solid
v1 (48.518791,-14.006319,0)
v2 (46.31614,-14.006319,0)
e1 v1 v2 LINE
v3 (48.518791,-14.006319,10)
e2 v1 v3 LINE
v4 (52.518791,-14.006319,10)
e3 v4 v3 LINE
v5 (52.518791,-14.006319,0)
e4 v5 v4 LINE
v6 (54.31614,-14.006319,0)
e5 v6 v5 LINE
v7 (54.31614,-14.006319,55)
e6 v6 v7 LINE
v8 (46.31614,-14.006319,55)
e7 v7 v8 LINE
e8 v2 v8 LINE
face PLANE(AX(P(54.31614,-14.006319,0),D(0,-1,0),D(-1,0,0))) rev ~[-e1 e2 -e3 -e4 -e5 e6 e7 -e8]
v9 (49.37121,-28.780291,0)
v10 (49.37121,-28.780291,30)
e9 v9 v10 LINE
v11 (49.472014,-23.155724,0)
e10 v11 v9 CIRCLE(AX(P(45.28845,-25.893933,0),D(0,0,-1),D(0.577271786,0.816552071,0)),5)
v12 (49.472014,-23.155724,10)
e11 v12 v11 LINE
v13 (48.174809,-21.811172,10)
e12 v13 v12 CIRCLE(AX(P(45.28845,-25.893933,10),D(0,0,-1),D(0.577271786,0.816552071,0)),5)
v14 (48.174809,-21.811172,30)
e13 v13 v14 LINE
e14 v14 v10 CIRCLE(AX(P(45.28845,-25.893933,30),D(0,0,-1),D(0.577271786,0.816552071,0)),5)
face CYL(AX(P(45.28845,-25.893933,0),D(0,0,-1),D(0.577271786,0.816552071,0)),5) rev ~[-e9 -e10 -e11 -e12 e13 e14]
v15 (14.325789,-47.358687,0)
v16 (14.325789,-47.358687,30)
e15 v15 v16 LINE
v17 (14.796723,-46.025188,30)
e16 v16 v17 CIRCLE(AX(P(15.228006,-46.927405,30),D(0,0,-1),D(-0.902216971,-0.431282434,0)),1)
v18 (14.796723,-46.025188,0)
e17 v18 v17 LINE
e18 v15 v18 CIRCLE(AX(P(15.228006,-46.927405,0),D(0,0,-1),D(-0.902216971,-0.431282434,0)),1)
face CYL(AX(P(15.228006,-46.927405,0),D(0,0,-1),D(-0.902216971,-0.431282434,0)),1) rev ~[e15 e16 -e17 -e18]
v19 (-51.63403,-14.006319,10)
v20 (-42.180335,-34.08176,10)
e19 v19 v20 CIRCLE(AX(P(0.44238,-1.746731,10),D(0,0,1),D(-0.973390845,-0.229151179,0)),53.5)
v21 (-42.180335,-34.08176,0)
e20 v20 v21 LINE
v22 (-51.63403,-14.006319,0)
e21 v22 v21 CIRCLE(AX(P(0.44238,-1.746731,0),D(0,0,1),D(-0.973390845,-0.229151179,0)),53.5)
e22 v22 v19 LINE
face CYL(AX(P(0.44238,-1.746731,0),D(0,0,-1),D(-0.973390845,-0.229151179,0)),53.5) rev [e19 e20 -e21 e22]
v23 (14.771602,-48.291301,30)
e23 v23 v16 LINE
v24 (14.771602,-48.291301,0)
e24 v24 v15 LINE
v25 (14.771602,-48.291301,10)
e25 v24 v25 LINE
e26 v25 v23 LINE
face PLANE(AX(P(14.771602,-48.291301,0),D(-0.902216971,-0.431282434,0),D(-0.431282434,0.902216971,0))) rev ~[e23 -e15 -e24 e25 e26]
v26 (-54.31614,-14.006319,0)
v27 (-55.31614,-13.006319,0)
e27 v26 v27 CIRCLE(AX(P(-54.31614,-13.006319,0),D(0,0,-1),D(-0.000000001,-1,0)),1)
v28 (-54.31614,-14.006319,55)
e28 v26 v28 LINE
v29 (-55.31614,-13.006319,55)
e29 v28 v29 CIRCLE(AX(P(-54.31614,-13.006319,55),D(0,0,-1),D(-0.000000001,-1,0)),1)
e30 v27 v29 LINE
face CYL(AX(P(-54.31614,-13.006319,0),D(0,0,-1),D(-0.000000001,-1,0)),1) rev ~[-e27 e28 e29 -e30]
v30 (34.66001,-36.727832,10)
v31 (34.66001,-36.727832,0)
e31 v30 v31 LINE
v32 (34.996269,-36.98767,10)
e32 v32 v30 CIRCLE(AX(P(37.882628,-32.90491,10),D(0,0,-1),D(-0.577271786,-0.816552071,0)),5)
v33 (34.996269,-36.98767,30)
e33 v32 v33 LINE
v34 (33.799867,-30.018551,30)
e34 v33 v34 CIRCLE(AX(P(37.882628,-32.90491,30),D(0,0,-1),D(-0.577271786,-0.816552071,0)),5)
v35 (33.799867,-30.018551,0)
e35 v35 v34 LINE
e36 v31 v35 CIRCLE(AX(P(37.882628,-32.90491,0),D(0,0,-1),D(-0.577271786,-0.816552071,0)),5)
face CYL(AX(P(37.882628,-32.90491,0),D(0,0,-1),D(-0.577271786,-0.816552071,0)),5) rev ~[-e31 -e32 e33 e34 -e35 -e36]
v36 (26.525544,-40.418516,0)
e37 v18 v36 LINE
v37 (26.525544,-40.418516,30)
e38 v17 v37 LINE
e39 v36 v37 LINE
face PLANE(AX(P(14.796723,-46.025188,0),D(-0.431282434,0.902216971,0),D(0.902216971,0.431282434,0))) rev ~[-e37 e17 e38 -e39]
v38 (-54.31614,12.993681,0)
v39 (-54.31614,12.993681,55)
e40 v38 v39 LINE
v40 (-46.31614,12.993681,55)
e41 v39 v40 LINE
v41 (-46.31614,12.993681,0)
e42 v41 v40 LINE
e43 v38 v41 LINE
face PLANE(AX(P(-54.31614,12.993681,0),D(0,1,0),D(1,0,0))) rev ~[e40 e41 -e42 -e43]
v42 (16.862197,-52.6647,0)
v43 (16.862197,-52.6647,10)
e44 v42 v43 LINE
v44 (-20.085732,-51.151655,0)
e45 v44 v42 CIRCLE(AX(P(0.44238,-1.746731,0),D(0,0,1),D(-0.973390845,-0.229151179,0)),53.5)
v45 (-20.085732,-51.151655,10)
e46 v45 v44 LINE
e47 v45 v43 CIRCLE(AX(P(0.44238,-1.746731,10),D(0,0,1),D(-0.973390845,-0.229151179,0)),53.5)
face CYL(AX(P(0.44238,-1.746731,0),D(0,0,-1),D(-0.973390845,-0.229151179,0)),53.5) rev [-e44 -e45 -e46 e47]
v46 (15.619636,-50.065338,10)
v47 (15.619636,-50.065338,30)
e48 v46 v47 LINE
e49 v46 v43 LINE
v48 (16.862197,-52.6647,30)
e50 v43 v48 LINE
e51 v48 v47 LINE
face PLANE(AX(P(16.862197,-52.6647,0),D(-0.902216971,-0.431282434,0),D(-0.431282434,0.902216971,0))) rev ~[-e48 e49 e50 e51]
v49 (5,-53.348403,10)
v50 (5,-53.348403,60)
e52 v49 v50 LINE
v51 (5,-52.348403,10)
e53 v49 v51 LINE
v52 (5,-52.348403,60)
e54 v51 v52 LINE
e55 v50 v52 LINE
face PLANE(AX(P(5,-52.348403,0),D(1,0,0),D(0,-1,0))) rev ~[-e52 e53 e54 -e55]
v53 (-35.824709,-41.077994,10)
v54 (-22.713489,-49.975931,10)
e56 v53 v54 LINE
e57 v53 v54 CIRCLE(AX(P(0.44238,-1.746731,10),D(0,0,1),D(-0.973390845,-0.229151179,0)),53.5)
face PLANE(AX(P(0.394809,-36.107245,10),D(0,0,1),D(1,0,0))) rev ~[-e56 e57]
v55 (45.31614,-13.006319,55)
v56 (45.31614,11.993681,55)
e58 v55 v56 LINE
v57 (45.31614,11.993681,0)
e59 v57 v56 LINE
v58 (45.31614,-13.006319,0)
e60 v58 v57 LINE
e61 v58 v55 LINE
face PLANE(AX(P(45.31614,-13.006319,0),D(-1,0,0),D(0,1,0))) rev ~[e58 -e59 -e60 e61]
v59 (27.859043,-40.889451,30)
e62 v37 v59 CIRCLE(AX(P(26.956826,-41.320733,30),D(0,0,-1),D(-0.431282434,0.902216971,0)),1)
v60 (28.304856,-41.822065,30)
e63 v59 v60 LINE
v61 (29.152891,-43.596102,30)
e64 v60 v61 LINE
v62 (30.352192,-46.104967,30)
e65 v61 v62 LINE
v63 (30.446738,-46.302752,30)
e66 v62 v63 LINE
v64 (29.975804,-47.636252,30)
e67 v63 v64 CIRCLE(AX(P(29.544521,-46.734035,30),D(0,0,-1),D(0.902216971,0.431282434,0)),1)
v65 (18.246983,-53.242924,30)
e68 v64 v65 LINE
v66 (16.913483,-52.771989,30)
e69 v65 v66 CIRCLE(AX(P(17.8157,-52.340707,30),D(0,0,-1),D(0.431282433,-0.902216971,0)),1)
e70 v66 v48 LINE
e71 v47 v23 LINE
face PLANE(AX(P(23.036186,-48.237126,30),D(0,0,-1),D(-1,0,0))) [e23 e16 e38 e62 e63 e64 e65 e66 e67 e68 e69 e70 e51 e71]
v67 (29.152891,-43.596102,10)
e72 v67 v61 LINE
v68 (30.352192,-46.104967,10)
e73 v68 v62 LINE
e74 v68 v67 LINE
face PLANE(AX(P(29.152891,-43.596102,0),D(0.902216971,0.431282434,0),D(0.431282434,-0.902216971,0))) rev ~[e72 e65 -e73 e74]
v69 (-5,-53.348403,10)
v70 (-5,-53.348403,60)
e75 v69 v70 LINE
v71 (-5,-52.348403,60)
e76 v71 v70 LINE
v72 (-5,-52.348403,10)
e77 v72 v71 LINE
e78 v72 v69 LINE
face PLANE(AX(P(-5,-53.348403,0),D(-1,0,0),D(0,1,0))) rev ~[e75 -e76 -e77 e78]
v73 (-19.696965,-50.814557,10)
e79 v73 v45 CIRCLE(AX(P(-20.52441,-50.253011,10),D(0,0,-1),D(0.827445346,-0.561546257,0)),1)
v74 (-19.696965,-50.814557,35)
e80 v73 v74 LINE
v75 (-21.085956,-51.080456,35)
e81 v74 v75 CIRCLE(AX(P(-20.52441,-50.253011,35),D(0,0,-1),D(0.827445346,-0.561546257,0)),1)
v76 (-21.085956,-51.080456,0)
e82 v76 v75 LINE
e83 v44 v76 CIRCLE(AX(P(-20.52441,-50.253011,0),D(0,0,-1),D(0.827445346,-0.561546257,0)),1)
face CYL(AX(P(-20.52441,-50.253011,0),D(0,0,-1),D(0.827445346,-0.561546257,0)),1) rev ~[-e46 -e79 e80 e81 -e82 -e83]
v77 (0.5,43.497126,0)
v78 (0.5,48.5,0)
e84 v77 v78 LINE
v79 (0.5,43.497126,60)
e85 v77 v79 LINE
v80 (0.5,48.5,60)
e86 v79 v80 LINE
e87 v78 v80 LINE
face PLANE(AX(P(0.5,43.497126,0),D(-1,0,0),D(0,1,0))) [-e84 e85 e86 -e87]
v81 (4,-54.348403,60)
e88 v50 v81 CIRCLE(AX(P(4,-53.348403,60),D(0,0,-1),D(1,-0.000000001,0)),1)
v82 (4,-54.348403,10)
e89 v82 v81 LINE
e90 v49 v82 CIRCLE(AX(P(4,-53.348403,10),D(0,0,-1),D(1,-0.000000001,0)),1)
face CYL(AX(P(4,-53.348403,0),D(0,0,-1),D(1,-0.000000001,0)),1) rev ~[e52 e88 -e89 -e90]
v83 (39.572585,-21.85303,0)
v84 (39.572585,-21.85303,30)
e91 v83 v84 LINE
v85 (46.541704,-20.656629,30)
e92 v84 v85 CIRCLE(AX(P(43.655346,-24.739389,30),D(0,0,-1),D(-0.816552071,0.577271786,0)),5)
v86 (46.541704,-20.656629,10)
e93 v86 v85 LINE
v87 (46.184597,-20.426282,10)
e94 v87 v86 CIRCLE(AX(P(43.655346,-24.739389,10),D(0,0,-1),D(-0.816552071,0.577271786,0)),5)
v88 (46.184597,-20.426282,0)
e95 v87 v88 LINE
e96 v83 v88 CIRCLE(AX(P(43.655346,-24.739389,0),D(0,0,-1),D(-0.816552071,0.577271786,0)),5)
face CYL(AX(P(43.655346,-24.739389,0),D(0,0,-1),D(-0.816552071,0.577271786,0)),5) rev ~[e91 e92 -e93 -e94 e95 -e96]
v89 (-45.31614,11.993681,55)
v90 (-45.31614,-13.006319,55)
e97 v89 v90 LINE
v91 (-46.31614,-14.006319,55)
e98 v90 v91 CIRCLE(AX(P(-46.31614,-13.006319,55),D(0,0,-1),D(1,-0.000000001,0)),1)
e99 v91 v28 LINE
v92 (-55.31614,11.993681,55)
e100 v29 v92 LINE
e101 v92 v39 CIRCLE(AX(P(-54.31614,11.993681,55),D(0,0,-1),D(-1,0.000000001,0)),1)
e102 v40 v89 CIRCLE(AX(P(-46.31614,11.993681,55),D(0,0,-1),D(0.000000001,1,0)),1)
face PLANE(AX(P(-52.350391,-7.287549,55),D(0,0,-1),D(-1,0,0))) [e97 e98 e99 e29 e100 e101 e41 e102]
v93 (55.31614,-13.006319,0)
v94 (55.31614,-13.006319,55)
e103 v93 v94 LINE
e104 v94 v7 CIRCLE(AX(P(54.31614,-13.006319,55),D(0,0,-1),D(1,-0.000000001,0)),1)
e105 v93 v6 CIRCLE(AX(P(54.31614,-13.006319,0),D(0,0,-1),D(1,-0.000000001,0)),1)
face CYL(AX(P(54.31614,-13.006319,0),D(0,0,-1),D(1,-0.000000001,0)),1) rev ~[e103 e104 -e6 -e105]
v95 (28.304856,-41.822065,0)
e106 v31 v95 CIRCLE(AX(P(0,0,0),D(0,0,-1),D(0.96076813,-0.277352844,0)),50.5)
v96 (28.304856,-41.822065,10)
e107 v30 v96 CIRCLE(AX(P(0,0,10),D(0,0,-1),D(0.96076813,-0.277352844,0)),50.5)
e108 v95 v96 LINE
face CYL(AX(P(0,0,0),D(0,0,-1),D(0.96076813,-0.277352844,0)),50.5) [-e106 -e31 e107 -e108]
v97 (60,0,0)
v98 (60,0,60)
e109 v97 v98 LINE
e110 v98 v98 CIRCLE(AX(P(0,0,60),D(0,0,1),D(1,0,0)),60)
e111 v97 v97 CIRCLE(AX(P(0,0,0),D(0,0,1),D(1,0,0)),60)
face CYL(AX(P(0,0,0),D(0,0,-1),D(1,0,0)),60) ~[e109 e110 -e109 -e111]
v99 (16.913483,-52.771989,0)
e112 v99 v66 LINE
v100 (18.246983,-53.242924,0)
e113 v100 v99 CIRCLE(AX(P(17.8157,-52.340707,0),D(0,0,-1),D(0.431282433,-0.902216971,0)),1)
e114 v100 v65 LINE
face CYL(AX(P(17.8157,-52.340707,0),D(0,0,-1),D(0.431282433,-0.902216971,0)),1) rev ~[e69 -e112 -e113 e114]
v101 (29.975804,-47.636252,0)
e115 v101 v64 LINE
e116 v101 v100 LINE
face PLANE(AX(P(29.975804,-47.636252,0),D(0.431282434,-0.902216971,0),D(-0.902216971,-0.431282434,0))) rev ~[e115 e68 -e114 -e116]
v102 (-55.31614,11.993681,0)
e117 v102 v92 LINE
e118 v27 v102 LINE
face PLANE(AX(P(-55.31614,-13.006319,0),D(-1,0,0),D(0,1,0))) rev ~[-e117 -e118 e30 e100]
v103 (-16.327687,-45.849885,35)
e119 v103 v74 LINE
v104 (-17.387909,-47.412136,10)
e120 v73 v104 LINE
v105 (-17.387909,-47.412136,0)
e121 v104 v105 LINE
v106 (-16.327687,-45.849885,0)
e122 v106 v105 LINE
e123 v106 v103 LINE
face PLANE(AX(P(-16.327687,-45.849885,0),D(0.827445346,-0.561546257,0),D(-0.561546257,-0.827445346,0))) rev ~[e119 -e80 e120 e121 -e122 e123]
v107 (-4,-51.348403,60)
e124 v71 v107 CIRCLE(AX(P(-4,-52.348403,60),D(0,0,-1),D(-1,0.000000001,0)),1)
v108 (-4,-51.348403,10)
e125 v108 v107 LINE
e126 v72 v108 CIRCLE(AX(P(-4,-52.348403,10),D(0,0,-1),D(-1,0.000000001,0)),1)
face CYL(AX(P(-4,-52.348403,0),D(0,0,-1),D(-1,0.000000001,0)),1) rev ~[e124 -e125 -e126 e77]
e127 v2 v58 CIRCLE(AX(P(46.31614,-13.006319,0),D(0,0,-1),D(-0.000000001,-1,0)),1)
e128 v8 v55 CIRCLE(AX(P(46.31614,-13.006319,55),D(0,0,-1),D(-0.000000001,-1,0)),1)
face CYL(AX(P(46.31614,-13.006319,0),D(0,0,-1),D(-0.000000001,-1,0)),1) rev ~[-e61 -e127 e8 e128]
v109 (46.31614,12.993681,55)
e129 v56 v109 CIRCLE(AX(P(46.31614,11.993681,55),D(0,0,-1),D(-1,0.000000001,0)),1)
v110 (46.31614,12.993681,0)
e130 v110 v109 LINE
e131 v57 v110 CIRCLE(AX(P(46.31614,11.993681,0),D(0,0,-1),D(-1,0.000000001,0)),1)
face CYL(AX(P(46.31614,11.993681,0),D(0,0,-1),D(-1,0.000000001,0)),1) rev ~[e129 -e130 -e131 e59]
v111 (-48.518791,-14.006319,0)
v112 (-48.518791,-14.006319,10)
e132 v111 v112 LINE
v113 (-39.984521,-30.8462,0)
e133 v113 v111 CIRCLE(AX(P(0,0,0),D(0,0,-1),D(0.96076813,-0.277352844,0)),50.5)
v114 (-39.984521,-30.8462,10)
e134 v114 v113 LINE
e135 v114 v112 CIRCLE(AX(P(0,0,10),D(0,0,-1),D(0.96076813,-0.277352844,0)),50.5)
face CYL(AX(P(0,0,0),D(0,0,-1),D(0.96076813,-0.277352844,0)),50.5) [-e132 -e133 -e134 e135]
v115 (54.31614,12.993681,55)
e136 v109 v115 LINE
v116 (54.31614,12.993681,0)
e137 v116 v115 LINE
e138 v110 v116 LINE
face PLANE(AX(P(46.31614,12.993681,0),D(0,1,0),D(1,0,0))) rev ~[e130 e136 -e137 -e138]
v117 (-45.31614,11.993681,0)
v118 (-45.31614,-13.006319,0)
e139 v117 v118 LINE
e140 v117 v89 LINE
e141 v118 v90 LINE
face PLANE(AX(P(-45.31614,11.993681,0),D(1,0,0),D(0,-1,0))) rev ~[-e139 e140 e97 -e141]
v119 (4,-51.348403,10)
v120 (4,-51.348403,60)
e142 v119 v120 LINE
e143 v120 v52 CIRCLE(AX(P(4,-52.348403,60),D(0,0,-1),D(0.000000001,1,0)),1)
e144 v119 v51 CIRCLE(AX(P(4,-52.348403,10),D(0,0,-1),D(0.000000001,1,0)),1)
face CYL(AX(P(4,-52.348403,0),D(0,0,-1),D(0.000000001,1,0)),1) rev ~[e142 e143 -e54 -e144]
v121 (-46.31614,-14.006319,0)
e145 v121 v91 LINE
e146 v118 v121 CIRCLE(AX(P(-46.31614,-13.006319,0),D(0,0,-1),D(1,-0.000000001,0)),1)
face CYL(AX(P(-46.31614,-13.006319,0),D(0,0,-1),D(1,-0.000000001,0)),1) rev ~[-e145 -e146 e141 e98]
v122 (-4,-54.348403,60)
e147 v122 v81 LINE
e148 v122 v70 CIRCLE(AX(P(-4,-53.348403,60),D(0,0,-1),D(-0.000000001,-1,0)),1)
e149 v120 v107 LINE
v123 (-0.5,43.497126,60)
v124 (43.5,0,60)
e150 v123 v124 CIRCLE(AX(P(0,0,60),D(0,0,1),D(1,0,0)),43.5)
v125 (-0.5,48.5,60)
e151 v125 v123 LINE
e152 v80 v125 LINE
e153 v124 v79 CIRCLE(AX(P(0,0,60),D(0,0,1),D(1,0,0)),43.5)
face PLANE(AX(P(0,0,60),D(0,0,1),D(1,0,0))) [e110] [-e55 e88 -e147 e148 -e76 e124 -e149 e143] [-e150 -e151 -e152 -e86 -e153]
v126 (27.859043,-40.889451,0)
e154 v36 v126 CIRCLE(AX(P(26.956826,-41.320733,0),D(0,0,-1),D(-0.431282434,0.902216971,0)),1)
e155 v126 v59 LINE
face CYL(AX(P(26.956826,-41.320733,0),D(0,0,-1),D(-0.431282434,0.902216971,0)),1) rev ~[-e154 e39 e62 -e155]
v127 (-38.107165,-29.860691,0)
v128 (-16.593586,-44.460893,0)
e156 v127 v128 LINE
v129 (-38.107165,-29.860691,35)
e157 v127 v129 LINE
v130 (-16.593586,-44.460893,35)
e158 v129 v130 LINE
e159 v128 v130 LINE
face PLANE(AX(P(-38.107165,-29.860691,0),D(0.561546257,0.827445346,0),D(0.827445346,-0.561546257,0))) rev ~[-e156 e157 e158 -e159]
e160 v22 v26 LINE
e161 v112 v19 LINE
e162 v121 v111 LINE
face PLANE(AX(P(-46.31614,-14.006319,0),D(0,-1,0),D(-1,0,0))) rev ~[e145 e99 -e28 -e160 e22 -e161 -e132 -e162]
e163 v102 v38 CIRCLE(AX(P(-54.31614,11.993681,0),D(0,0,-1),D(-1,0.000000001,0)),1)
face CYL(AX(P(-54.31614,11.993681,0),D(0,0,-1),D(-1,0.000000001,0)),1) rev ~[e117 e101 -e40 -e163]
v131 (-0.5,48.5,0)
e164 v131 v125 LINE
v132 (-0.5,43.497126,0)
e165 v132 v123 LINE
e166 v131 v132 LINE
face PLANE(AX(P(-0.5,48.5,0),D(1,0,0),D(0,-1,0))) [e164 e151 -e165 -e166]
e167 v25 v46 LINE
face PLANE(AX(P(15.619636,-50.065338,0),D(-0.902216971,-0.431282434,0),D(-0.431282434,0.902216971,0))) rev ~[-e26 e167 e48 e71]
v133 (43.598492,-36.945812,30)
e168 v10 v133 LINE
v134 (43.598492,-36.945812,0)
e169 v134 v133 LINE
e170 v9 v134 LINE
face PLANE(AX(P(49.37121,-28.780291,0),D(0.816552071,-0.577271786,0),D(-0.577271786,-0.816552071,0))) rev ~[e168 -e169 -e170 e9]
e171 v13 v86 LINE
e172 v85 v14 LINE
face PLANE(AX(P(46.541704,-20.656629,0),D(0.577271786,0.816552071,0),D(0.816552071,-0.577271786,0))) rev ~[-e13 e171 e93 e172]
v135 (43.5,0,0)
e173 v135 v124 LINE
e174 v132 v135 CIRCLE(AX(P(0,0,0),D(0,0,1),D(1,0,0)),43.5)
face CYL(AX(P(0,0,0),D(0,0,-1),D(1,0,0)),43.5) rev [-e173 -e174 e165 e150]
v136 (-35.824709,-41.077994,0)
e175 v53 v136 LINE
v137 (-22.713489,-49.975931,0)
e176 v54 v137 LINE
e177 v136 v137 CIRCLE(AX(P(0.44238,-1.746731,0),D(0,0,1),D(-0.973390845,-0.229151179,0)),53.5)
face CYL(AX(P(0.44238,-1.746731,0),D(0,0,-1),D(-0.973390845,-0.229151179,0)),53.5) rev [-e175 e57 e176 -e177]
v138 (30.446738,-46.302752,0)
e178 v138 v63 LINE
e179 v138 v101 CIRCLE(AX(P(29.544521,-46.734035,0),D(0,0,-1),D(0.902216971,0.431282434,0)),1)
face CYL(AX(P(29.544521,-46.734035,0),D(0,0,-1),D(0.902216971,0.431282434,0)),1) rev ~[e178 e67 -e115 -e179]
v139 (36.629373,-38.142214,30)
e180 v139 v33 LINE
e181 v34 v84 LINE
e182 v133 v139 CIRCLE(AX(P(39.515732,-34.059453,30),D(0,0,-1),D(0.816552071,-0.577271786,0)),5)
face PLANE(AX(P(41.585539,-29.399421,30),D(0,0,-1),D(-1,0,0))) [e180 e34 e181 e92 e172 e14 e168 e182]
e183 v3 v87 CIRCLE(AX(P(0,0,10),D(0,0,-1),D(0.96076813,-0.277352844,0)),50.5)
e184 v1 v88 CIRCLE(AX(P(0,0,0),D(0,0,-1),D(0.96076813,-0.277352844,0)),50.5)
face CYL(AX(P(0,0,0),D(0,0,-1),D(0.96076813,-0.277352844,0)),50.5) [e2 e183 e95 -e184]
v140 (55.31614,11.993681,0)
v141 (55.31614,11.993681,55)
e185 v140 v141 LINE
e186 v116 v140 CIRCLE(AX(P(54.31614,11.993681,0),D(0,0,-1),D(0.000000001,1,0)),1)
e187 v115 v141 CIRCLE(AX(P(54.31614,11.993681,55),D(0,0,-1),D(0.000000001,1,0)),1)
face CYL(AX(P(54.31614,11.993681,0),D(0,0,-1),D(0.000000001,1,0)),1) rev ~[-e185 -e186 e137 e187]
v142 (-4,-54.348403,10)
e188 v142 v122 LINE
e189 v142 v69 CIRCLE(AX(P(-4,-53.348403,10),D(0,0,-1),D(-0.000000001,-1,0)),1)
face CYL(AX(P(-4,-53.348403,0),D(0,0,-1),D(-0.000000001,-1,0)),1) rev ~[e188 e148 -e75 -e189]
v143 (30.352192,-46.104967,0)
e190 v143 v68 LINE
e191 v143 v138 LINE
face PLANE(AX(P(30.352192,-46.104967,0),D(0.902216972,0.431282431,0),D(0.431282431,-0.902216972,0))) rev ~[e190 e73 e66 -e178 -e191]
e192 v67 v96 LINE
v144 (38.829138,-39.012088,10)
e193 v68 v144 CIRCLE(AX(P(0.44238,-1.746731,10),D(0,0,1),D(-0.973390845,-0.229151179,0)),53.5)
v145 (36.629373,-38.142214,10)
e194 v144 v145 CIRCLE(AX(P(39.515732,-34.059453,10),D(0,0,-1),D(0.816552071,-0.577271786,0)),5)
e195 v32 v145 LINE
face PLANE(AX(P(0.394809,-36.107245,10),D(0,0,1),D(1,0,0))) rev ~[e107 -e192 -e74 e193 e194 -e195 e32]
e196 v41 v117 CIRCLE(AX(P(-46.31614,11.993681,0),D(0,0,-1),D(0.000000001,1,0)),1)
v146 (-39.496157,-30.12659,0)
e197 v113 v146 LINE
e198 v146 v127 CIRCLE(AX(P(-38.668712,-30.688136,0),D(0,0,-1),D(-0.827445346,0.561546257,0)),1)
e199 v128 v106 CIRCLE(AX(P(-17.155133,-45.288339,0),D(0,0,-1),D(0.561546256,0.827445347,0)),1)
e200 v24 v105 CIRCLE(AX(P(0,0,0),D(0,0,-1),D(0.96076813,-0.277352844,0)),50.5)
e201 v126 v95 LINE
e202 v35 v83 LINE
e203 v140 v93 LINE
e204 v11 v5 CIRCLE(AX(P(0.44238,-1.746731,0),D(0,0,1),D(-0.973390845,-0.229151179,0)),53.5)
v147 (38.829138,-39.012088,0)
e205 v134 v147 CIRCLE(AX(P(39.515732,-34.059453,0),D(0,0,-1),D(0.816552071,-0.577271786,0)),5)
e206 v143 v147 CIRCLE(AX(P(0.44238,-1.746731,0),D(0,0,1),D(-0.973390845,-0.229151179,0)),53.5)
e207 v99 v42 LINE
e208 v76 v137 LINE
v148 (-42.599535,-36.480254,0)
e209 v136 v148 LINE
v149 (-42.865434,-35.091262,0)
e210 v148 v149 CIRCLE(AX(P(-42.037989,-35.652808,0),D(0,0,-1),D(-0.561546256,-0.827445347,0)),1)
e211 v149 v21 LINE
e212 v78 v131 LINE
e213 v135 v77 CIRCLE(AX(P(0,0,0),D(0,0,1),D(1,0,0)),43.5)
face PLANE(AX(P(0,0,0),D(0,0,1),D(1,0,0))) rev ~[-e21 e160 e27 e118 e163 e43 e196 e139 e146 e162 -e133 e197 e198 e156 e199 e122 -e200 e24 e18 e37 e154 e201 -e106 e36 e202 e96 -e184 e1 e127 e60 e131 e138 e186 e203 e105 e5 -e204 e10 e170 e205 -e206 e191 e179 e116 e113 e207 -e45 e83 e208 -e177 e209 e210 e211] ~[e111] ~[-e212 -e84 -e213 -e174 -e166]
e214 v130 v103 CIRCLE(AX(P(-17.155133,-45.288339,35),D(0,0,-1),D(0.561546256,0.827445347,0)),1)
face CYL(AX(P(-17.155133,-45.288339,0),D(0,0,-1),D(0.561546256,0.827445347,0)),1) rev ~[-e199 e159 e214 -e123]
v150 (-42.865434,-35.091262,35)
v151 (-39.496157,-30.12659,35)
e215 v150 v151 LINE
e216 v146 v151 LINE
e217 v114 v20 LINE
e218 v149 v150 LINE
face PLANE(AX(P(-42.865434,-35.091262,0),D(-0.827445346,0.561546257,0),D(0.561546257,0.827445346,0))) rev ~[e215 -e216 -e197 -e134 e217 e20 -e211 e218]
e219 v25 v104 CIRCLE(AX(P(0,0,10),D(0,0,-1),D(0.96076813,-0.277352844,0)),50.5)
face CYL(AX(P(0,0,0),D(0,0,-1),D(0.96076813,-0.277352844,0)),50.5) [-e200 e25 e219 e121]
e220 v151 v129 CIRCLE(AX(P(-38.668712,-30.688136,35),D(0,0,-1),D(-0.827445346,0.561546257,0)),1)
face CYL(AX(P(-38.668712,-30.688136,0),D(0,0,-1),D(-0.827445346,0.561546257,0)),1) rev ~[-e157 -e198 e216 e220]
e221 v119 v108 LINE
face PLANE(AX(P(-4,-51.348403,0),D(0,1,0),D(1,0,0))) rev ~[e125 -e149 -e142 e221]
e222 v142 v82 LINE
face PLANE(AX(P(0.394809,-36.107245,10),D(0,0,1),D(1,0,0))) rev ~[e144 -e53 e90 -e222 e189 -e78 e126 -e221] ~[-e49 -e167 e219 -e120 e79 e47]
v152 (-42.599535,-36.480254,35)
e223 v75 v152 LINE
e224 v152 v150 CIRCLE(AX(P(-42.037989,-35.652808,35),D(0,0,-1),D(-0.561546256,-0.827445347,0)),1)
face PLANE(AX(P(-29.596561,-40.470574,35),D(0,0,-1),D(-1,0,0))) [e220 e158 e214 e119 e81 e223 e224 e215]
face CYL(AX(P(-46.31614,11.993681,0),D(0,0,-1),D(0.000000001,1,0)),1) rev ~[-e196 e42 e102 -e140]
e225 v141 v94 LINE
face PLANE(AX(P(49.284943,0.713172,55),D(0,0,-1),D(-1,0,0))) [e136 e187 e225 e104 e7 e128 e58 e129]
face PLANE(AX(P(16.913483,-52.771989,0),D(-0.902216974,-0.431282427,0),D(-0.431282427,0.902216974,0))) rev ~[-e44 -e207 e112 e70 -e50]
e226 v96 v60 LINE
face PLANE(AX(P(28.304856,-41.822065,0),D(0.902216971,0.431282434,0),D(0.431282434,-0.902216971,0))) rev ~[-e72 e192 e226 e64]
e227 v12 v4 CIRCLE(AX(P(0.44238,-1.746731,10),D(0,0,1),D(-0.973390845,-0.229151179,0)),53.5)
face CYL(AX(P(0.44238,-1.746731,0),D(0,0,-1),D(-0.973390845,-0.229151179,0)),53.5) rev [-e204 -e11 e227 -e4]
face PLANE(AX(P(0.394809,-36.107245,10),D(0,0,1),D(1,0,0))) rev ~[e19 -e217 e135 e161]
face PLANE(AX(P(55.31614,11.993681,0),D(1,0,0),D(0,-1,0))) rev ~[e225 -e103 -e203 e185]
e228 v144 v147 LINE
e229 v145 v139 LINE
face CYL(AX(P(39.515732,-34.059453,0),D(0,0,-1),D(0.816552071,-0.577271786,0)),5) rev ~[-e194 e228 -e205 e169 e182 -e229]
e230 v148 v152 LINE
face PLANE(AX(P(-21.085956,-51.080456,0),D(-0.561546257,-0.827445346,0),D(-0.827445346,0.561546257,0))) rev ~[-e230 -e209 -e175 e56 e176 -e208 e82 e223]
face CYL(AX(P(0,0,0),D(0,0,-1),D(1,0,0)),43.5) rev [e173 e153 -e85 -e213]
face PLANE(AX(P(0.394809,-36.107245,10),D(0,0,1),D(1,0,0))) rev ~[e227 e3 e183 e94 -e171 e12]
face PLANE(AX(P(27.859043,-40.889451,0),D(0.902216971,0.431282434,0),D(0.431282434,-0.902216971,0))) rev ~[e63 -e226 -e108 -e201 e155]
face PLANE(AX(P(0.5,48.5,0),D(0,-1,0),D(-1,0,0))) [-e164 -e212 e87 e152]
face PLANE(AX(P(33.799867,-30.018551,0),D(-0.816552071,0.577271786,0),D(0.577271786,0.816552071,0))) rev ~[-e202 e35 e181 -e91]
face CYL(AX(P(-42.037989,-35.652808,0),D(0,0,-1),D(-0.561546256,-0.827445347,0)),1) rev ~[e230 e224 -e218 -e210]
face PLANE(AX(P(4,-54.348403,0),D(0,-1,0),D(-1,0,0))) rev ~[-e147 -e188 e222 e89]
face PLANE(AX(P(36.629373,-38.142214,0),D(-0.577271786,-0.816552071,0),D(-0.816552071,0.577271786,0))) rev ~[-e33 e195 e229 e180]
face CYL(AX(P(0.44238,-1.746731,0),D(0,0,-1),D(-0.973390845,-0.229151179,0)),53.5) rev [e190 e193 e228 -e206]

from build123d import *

# Parameters (mm, degrees)
SKETCH1_R          = 60
SKETCH1_R_2        = 43.5
EXTRUSION1_DEPTH   = 60
EXTRUSION3_START   = -60
EXTRUSION3_DEPTH   = 60
CUT_EXTRUDE2_DEPTH = 55
CUT_EXTRUDE3_DEPTH = 10
CUT_EXTRUDE4_DEPTH = 35
CUT_EXTRUDE5_DEPTH = 104.923048454
CUT_EXTRUDE6_DEPTH = 30
CUT_EXTRUDE7_DEPTH = 30


with BuildPart() as part:
    # Sketch1 → Extrusion1 (new body)
    with BuildSketch(Plane.XY):
        Circle(SKETCH1_R)
        Circle(SKETCH1_R_2, mode=Mode.SUBTRACT)
    extrude(amount=EXTRUSION1_DEPTH)

    # Sketch3 → Extrusion3 (cut)
    with BuildSketch(Plane.XY.offset(60).offset(EXTRUSION3_START)):
        with BuildLine():
            Line((-0.5, 48.5), (-0.5, 43.497126342))
            ThreePointArc((-0.5, 43.497126342), (0, 43.5), (0.5, 43.497126342))
            Line((0.5, 43.497126342), (0.5, 48.5))
            Line((0.5, 48.5), (-0.5, 48.5))
        make_face()
    extrude(amount=EXTRUSION3_DEPTH, mode=Mode.SUBTRACT)

    # Sketch4 → Cut-Extrude2 (cut)
    with BuildSketch(Plane(origin=(0, 0, 0), x_dir=(-1, 0, 0), z_dir=(0, 0, -1))):
        with BuildLine():
            ThreePointArc((-50.316139758, -0.506318633), (-49.782828126, -7.323954021), (-48.330045697, -14.006318633))
            Line((-48.330045697, -14.006318633), (-46.316139758, -14.006318633))
            ThreePointArc((-46.316139758, -14.006318633), (-45.609032977, -13.713425414), (-45.316139758, -13.006318633))
            Line((-45.316139758, -13.006318633), (-45.316139758, 11.993681367))
            ThreePointArc((-45.316139758, 11.993681367), (-45.609032977, 12.700788148), (-46.316139758, 12.993681367))
            Line((-46.316139758, 12.993681367), (-54.316139758, 12.993681367))
            ThreePointArc((-54.316139758, 12.993681367), (-55.023246539, 12.700788148), (-55.316139758, 11.993681367))
            Line((-55.316139758, 11.993681367), (-55.316139758, -0.506318633))
            Line((-55.316139758, -0.506318633), (-50.316139758, -0.506318633))
        make_face()
        with BuildLine():
            Line((-54.316139758, -14.006318633), (-48.330045697, -14.006318633))
            ThreePointArc((-48.330045697, -14.006318633), (-49.782828126, -7.323954021), (-50.316139758, -0.506318633))
            Line((-50.316139758, -0.506318633), (-55.316139758, -0.506318633))
            Line((-55.316139758, -0.506318633), (-55.316139758, -13.006318633))
            ThreePointArc((-55.316139758, -13.006318633), (-55.023246539, -13.713425414), (-54.316139758, -14.006318633))
        make_face()
        with BuildLine():
            Line((55.316139758, 0), (50.318687172, 0))
            ThreePointArc((50.318687172, 0), (49.819046203, -7.07339481), (48.330045697, -14.006318633))
            Line((48.330045697, -14.006318633), (54.316139758, -14.006318633))
            ThreePointArc((54.316139758, -14.006318633), (55.023246539, -13.713425414), (55.316139758, -13.006318633))
            Line((55.316139758, -13.006318633), (55.316139758, 0))
        make_face()
        with BuildLine():
            ThreePointArc((48.330045697, -14.006318633), (49.819046203, -7.07339481), (50.318687172, 0))
            Line((50.318687172, 0), (55.316139758, 0))
            Line((55.316139758, 0), (55.316139758, 11.993681367))
            ThreePointArc((55.316139758, 11.993681367), (55.023246539, 12.700788148), (54.316139758, 12.993681367))
            Line((54.316139758, 12.993681367), (46.316139758, 12.993681367))
            ThreePointArc((46.316139758, 12.993681367), (45.609032977, 12.700788148), (45.316139758, 11.993681367))
            Line((45.316139758, 11.993681367), (45.316139758, -13.006318633))
            ThreePointArc((45.316139758, -13.006318633), (45.609032977, -13.713425414), (46.316139758, -14.006318633))
            Line((46.316139758, -14.006318633), (48.330045697, -14.006318633))
        make_face()
    extrude(amount=-CUT_EXTRUDE2_DEPTH, mode=Mode.SUBTRACT)

    # Sketch5 → Cut-Extrude3 (cut)
    with BuildSketch(Plane(origin=(0, 0, 0), x_dir=(-1, 0, 0), z_dir=(0, 0, -1))):
        with BuildLine():
            Line((-52.51879057, -14.006318633), (-48.51879057, -14.006318633))
            ThreePointArc((-48.51879057, -14.006318633), (0, -50.5), (48.51879057, -14.006318633))
            Line((48.51879057, -14.006318633), (51.634029848, -14.006318633))
            ThreePointArc((51.634029848, -14.006318633), (-0.442380361, -55.246730559), (-52.51879057, -14.006318633))
        make_face()
    extrude(amount=-CUT_EXTRUDE3_DEPTH, mode=Mode.SUBTRACT)

    # Sketch7 → Cut-Extrude4 (cut)
    with BuildSketch(Plane(origin=(0, 0, 0), x_dir=(-1, 0, 0), z_dir=(0, 0, -1))):
        with BuildLine():
            Line((21.085956356, -51.080456264), (42.59953536, -36.48025358))
            ThreePointArc((42.59953536, -36.48025358), (43.020154485, -35.840827283), (42.865434449, -35.091261977))
            Line((42.865434449, -35.091261977), (39.496156907, -30.126589899))
            ThreePointArc((39.496156907, -30.126589899), (38.856730609, -29.705970774), (38.107165303, -29.860690809))
            Line((38.107165303, -29.860690809), (16.593586299, -44.460893494))
            ThreePointArc((16.593586299, -44.460893494), (16.172967174, -45.100319791), (16.32768721, -45.849885097))
            Line((16.32768721, -45.849885097), (19.696964752, -50.814557175))
            ThreePointArc((19.696964752, -50.814557175), (20.33639105, -51.2351763), (21.085956356, -51.080456264))
        make_face()
    extrude(amount=-CUT_EXTRUDE4_DEPTH, mode=Mode.SUBTRACT)

    # Sketch8 → Cut-Extrude5 (cut, through all)
    with BuildSketch(Plane(origin=(0, 0, 0), x_dir=(-1, 0, 0), z_dir=(0, 0, -1))):
        with BuildLine():
            Line((0, -54.348403173), (0, -51.348403173))
            Line((0, -51.348403173), (-4, -51.348403173))
            ThreePointArc((-4, -51.348403173), (-4.707106781, -51.641296392), (-5, -52.348403173))
            Line((-5, -52.348403173), (-5, -53.348403173))
            ThreePointArc((-5, -53.348403173), (-4.707106781, -54.055509954), (-4, -54.348403173))
            Line((-4, -54.348403173), (0, -54.348403173))
        make_face()
        with BuildLine():
            Line((4, -51.348403173), (0, -51.348403173))
            Line((0, -51.348403173), (0, -54.348403173))
            Line((0, -54.348403173), (4, -54.348403173))
            ThreePointArc((4, -54.348403173), (4.707106781, -54.055509954), (5, -53.348403173))
            Line((5, -53.348403173), (5, -52.348403173))
            ThreePointArc((5, -52.348403173), (4.707106781, -51.641296392), (4, -51.348403173))
        make_face()
    extrude(amount=-CUT_EXTRUDE5_DEPTH, mode=Mode.SUBTRACT)

    # Sketch9 → Cut-Extrude6 (cut)
    with BuildSketch(Plane(origin=(0, 0, 0), x_dir=(-1, 0, 0), z_dir=(0, 0, -1))):
        with BuildLine():
            Line((-46.541704455, -20.656628598), (-48.174808597, -21.811172171))
            ThreePointArc((-48.174808597, -21.811172171), (-50.216361173, -25.047948966), (-49.371210022, -28.780291457))
            Line((-49.371210022, -28.780291457), (-43.598492159, -36.945812168))
            ThreePointArc((-43.598492159, -36.945812168), (-40.361715364, -38.987364744), (-36.629372873, -38.142213593))
            Line((-36.629372873, -38.142213593), (-34.996268731, -36.98767002))
            ThreePointArc((-34.996268731, -36.98767002), (-32.954716155, -33.750893225), (-33.799867306, -30.018550734))
            Line((-33.799867306, -30.018550734), (-39.572585168, -21.853030023))
            ThreePointArc((-39.572585168, -21.853030023), (-42.809361964, -19.811477447), (-46.541704455, -20.656628598))
        make_face()
    extrude(amount=-CUT_EXTRUDE6_DEPTH, mode=Mode.SUBTRACT)

    # Sketch10 → Cut-Extrude7 (cut)
    with BuildSketch(Plane(origin=(0, 0, 0), x_dir=(-1, 0, 0), z_dir=(0, 0, -1))):
        with BuildLine():
            Line((-16.862196749, -52.664700174), (-15.619636194, -50.065338059))
            Line((-15.619636194, -50.065338059), (-29.152890755, -43.596101551))
            Line((-29.152890755, -43.596101551), (-30.352191828, -46.104967426))
            ThreePointArc((-30.352191828, -46.104967426), (-23.838237424, -49.859970652), (-16.862196749, -52.664700174))
        make_face()
        with BuildLine():
            Line((-16.913483495, -52.771988971), (-16.862196749, -52.664700174))
            ThreePointArc((-16.862196749, -52.664700174), (-23.838237424, -49.859970652), (-30.352191828, -46.104967426))
            Line((-30.352191828, -46.104967426), (-30.446738056, -46.302752463))
            ThreePointArc((-30.446738056, -46.302752463), (-30.487447557, -47.067035901), (-29.975803519, -47.636251867))
            Line((-29.975803519, -47.636251867), (-18.2469829, -53.242923508))
            ThreePointArc((-18.2469829, -53.242923508), (-17.482699462, -53.283633009), (-16.913483495, -52.771988971))
        make_face()
        with BuildLine():
            ThreePointArc((-28.304856483, -41.822064744), (-21.77976291, -45.561957021), (-14.771601922, -48.291301252))
            Line((-14.771601922, -48.291301252), (-14.325788892, -47.358687147))
            ThreePointArc((-14.325788892, -47.358687147), (-14.285079391, -46.594403708), (-14.796723429, -46.025187742))
            Line((-14.796723429, -46.025187742), (-26.525544048, -40.418516102))
            ThreePointArc((-26.525544048, -40.418516102), (-27.289827487, -40.377806601), (-27.859043453, -40.889450639))
            Line((-27.859043453, -40.889450639), (-28.304856483, -41.822064744))
        make_face()
        with BuildLine():
            Line((-29.152890755, -43.596101551), (-15.619636194, -50.065338059))
            Line((-15.619636194, -50.065338059), (-14.771601922, -48.291301252))
            ThreePointArc((-14.771601922, -48.291301252), (-21.77976291, -45.561957021), (-28.304856483, -41.822064744))
            Line((-28.304856483, -41.822064744), (-29.152890755, -43.596101551))
        make_face()
    extrude(amount=-CUT_EXTRUDE7_DEPTH, mode=Mode.SUBTRACT)


solid = part.part
